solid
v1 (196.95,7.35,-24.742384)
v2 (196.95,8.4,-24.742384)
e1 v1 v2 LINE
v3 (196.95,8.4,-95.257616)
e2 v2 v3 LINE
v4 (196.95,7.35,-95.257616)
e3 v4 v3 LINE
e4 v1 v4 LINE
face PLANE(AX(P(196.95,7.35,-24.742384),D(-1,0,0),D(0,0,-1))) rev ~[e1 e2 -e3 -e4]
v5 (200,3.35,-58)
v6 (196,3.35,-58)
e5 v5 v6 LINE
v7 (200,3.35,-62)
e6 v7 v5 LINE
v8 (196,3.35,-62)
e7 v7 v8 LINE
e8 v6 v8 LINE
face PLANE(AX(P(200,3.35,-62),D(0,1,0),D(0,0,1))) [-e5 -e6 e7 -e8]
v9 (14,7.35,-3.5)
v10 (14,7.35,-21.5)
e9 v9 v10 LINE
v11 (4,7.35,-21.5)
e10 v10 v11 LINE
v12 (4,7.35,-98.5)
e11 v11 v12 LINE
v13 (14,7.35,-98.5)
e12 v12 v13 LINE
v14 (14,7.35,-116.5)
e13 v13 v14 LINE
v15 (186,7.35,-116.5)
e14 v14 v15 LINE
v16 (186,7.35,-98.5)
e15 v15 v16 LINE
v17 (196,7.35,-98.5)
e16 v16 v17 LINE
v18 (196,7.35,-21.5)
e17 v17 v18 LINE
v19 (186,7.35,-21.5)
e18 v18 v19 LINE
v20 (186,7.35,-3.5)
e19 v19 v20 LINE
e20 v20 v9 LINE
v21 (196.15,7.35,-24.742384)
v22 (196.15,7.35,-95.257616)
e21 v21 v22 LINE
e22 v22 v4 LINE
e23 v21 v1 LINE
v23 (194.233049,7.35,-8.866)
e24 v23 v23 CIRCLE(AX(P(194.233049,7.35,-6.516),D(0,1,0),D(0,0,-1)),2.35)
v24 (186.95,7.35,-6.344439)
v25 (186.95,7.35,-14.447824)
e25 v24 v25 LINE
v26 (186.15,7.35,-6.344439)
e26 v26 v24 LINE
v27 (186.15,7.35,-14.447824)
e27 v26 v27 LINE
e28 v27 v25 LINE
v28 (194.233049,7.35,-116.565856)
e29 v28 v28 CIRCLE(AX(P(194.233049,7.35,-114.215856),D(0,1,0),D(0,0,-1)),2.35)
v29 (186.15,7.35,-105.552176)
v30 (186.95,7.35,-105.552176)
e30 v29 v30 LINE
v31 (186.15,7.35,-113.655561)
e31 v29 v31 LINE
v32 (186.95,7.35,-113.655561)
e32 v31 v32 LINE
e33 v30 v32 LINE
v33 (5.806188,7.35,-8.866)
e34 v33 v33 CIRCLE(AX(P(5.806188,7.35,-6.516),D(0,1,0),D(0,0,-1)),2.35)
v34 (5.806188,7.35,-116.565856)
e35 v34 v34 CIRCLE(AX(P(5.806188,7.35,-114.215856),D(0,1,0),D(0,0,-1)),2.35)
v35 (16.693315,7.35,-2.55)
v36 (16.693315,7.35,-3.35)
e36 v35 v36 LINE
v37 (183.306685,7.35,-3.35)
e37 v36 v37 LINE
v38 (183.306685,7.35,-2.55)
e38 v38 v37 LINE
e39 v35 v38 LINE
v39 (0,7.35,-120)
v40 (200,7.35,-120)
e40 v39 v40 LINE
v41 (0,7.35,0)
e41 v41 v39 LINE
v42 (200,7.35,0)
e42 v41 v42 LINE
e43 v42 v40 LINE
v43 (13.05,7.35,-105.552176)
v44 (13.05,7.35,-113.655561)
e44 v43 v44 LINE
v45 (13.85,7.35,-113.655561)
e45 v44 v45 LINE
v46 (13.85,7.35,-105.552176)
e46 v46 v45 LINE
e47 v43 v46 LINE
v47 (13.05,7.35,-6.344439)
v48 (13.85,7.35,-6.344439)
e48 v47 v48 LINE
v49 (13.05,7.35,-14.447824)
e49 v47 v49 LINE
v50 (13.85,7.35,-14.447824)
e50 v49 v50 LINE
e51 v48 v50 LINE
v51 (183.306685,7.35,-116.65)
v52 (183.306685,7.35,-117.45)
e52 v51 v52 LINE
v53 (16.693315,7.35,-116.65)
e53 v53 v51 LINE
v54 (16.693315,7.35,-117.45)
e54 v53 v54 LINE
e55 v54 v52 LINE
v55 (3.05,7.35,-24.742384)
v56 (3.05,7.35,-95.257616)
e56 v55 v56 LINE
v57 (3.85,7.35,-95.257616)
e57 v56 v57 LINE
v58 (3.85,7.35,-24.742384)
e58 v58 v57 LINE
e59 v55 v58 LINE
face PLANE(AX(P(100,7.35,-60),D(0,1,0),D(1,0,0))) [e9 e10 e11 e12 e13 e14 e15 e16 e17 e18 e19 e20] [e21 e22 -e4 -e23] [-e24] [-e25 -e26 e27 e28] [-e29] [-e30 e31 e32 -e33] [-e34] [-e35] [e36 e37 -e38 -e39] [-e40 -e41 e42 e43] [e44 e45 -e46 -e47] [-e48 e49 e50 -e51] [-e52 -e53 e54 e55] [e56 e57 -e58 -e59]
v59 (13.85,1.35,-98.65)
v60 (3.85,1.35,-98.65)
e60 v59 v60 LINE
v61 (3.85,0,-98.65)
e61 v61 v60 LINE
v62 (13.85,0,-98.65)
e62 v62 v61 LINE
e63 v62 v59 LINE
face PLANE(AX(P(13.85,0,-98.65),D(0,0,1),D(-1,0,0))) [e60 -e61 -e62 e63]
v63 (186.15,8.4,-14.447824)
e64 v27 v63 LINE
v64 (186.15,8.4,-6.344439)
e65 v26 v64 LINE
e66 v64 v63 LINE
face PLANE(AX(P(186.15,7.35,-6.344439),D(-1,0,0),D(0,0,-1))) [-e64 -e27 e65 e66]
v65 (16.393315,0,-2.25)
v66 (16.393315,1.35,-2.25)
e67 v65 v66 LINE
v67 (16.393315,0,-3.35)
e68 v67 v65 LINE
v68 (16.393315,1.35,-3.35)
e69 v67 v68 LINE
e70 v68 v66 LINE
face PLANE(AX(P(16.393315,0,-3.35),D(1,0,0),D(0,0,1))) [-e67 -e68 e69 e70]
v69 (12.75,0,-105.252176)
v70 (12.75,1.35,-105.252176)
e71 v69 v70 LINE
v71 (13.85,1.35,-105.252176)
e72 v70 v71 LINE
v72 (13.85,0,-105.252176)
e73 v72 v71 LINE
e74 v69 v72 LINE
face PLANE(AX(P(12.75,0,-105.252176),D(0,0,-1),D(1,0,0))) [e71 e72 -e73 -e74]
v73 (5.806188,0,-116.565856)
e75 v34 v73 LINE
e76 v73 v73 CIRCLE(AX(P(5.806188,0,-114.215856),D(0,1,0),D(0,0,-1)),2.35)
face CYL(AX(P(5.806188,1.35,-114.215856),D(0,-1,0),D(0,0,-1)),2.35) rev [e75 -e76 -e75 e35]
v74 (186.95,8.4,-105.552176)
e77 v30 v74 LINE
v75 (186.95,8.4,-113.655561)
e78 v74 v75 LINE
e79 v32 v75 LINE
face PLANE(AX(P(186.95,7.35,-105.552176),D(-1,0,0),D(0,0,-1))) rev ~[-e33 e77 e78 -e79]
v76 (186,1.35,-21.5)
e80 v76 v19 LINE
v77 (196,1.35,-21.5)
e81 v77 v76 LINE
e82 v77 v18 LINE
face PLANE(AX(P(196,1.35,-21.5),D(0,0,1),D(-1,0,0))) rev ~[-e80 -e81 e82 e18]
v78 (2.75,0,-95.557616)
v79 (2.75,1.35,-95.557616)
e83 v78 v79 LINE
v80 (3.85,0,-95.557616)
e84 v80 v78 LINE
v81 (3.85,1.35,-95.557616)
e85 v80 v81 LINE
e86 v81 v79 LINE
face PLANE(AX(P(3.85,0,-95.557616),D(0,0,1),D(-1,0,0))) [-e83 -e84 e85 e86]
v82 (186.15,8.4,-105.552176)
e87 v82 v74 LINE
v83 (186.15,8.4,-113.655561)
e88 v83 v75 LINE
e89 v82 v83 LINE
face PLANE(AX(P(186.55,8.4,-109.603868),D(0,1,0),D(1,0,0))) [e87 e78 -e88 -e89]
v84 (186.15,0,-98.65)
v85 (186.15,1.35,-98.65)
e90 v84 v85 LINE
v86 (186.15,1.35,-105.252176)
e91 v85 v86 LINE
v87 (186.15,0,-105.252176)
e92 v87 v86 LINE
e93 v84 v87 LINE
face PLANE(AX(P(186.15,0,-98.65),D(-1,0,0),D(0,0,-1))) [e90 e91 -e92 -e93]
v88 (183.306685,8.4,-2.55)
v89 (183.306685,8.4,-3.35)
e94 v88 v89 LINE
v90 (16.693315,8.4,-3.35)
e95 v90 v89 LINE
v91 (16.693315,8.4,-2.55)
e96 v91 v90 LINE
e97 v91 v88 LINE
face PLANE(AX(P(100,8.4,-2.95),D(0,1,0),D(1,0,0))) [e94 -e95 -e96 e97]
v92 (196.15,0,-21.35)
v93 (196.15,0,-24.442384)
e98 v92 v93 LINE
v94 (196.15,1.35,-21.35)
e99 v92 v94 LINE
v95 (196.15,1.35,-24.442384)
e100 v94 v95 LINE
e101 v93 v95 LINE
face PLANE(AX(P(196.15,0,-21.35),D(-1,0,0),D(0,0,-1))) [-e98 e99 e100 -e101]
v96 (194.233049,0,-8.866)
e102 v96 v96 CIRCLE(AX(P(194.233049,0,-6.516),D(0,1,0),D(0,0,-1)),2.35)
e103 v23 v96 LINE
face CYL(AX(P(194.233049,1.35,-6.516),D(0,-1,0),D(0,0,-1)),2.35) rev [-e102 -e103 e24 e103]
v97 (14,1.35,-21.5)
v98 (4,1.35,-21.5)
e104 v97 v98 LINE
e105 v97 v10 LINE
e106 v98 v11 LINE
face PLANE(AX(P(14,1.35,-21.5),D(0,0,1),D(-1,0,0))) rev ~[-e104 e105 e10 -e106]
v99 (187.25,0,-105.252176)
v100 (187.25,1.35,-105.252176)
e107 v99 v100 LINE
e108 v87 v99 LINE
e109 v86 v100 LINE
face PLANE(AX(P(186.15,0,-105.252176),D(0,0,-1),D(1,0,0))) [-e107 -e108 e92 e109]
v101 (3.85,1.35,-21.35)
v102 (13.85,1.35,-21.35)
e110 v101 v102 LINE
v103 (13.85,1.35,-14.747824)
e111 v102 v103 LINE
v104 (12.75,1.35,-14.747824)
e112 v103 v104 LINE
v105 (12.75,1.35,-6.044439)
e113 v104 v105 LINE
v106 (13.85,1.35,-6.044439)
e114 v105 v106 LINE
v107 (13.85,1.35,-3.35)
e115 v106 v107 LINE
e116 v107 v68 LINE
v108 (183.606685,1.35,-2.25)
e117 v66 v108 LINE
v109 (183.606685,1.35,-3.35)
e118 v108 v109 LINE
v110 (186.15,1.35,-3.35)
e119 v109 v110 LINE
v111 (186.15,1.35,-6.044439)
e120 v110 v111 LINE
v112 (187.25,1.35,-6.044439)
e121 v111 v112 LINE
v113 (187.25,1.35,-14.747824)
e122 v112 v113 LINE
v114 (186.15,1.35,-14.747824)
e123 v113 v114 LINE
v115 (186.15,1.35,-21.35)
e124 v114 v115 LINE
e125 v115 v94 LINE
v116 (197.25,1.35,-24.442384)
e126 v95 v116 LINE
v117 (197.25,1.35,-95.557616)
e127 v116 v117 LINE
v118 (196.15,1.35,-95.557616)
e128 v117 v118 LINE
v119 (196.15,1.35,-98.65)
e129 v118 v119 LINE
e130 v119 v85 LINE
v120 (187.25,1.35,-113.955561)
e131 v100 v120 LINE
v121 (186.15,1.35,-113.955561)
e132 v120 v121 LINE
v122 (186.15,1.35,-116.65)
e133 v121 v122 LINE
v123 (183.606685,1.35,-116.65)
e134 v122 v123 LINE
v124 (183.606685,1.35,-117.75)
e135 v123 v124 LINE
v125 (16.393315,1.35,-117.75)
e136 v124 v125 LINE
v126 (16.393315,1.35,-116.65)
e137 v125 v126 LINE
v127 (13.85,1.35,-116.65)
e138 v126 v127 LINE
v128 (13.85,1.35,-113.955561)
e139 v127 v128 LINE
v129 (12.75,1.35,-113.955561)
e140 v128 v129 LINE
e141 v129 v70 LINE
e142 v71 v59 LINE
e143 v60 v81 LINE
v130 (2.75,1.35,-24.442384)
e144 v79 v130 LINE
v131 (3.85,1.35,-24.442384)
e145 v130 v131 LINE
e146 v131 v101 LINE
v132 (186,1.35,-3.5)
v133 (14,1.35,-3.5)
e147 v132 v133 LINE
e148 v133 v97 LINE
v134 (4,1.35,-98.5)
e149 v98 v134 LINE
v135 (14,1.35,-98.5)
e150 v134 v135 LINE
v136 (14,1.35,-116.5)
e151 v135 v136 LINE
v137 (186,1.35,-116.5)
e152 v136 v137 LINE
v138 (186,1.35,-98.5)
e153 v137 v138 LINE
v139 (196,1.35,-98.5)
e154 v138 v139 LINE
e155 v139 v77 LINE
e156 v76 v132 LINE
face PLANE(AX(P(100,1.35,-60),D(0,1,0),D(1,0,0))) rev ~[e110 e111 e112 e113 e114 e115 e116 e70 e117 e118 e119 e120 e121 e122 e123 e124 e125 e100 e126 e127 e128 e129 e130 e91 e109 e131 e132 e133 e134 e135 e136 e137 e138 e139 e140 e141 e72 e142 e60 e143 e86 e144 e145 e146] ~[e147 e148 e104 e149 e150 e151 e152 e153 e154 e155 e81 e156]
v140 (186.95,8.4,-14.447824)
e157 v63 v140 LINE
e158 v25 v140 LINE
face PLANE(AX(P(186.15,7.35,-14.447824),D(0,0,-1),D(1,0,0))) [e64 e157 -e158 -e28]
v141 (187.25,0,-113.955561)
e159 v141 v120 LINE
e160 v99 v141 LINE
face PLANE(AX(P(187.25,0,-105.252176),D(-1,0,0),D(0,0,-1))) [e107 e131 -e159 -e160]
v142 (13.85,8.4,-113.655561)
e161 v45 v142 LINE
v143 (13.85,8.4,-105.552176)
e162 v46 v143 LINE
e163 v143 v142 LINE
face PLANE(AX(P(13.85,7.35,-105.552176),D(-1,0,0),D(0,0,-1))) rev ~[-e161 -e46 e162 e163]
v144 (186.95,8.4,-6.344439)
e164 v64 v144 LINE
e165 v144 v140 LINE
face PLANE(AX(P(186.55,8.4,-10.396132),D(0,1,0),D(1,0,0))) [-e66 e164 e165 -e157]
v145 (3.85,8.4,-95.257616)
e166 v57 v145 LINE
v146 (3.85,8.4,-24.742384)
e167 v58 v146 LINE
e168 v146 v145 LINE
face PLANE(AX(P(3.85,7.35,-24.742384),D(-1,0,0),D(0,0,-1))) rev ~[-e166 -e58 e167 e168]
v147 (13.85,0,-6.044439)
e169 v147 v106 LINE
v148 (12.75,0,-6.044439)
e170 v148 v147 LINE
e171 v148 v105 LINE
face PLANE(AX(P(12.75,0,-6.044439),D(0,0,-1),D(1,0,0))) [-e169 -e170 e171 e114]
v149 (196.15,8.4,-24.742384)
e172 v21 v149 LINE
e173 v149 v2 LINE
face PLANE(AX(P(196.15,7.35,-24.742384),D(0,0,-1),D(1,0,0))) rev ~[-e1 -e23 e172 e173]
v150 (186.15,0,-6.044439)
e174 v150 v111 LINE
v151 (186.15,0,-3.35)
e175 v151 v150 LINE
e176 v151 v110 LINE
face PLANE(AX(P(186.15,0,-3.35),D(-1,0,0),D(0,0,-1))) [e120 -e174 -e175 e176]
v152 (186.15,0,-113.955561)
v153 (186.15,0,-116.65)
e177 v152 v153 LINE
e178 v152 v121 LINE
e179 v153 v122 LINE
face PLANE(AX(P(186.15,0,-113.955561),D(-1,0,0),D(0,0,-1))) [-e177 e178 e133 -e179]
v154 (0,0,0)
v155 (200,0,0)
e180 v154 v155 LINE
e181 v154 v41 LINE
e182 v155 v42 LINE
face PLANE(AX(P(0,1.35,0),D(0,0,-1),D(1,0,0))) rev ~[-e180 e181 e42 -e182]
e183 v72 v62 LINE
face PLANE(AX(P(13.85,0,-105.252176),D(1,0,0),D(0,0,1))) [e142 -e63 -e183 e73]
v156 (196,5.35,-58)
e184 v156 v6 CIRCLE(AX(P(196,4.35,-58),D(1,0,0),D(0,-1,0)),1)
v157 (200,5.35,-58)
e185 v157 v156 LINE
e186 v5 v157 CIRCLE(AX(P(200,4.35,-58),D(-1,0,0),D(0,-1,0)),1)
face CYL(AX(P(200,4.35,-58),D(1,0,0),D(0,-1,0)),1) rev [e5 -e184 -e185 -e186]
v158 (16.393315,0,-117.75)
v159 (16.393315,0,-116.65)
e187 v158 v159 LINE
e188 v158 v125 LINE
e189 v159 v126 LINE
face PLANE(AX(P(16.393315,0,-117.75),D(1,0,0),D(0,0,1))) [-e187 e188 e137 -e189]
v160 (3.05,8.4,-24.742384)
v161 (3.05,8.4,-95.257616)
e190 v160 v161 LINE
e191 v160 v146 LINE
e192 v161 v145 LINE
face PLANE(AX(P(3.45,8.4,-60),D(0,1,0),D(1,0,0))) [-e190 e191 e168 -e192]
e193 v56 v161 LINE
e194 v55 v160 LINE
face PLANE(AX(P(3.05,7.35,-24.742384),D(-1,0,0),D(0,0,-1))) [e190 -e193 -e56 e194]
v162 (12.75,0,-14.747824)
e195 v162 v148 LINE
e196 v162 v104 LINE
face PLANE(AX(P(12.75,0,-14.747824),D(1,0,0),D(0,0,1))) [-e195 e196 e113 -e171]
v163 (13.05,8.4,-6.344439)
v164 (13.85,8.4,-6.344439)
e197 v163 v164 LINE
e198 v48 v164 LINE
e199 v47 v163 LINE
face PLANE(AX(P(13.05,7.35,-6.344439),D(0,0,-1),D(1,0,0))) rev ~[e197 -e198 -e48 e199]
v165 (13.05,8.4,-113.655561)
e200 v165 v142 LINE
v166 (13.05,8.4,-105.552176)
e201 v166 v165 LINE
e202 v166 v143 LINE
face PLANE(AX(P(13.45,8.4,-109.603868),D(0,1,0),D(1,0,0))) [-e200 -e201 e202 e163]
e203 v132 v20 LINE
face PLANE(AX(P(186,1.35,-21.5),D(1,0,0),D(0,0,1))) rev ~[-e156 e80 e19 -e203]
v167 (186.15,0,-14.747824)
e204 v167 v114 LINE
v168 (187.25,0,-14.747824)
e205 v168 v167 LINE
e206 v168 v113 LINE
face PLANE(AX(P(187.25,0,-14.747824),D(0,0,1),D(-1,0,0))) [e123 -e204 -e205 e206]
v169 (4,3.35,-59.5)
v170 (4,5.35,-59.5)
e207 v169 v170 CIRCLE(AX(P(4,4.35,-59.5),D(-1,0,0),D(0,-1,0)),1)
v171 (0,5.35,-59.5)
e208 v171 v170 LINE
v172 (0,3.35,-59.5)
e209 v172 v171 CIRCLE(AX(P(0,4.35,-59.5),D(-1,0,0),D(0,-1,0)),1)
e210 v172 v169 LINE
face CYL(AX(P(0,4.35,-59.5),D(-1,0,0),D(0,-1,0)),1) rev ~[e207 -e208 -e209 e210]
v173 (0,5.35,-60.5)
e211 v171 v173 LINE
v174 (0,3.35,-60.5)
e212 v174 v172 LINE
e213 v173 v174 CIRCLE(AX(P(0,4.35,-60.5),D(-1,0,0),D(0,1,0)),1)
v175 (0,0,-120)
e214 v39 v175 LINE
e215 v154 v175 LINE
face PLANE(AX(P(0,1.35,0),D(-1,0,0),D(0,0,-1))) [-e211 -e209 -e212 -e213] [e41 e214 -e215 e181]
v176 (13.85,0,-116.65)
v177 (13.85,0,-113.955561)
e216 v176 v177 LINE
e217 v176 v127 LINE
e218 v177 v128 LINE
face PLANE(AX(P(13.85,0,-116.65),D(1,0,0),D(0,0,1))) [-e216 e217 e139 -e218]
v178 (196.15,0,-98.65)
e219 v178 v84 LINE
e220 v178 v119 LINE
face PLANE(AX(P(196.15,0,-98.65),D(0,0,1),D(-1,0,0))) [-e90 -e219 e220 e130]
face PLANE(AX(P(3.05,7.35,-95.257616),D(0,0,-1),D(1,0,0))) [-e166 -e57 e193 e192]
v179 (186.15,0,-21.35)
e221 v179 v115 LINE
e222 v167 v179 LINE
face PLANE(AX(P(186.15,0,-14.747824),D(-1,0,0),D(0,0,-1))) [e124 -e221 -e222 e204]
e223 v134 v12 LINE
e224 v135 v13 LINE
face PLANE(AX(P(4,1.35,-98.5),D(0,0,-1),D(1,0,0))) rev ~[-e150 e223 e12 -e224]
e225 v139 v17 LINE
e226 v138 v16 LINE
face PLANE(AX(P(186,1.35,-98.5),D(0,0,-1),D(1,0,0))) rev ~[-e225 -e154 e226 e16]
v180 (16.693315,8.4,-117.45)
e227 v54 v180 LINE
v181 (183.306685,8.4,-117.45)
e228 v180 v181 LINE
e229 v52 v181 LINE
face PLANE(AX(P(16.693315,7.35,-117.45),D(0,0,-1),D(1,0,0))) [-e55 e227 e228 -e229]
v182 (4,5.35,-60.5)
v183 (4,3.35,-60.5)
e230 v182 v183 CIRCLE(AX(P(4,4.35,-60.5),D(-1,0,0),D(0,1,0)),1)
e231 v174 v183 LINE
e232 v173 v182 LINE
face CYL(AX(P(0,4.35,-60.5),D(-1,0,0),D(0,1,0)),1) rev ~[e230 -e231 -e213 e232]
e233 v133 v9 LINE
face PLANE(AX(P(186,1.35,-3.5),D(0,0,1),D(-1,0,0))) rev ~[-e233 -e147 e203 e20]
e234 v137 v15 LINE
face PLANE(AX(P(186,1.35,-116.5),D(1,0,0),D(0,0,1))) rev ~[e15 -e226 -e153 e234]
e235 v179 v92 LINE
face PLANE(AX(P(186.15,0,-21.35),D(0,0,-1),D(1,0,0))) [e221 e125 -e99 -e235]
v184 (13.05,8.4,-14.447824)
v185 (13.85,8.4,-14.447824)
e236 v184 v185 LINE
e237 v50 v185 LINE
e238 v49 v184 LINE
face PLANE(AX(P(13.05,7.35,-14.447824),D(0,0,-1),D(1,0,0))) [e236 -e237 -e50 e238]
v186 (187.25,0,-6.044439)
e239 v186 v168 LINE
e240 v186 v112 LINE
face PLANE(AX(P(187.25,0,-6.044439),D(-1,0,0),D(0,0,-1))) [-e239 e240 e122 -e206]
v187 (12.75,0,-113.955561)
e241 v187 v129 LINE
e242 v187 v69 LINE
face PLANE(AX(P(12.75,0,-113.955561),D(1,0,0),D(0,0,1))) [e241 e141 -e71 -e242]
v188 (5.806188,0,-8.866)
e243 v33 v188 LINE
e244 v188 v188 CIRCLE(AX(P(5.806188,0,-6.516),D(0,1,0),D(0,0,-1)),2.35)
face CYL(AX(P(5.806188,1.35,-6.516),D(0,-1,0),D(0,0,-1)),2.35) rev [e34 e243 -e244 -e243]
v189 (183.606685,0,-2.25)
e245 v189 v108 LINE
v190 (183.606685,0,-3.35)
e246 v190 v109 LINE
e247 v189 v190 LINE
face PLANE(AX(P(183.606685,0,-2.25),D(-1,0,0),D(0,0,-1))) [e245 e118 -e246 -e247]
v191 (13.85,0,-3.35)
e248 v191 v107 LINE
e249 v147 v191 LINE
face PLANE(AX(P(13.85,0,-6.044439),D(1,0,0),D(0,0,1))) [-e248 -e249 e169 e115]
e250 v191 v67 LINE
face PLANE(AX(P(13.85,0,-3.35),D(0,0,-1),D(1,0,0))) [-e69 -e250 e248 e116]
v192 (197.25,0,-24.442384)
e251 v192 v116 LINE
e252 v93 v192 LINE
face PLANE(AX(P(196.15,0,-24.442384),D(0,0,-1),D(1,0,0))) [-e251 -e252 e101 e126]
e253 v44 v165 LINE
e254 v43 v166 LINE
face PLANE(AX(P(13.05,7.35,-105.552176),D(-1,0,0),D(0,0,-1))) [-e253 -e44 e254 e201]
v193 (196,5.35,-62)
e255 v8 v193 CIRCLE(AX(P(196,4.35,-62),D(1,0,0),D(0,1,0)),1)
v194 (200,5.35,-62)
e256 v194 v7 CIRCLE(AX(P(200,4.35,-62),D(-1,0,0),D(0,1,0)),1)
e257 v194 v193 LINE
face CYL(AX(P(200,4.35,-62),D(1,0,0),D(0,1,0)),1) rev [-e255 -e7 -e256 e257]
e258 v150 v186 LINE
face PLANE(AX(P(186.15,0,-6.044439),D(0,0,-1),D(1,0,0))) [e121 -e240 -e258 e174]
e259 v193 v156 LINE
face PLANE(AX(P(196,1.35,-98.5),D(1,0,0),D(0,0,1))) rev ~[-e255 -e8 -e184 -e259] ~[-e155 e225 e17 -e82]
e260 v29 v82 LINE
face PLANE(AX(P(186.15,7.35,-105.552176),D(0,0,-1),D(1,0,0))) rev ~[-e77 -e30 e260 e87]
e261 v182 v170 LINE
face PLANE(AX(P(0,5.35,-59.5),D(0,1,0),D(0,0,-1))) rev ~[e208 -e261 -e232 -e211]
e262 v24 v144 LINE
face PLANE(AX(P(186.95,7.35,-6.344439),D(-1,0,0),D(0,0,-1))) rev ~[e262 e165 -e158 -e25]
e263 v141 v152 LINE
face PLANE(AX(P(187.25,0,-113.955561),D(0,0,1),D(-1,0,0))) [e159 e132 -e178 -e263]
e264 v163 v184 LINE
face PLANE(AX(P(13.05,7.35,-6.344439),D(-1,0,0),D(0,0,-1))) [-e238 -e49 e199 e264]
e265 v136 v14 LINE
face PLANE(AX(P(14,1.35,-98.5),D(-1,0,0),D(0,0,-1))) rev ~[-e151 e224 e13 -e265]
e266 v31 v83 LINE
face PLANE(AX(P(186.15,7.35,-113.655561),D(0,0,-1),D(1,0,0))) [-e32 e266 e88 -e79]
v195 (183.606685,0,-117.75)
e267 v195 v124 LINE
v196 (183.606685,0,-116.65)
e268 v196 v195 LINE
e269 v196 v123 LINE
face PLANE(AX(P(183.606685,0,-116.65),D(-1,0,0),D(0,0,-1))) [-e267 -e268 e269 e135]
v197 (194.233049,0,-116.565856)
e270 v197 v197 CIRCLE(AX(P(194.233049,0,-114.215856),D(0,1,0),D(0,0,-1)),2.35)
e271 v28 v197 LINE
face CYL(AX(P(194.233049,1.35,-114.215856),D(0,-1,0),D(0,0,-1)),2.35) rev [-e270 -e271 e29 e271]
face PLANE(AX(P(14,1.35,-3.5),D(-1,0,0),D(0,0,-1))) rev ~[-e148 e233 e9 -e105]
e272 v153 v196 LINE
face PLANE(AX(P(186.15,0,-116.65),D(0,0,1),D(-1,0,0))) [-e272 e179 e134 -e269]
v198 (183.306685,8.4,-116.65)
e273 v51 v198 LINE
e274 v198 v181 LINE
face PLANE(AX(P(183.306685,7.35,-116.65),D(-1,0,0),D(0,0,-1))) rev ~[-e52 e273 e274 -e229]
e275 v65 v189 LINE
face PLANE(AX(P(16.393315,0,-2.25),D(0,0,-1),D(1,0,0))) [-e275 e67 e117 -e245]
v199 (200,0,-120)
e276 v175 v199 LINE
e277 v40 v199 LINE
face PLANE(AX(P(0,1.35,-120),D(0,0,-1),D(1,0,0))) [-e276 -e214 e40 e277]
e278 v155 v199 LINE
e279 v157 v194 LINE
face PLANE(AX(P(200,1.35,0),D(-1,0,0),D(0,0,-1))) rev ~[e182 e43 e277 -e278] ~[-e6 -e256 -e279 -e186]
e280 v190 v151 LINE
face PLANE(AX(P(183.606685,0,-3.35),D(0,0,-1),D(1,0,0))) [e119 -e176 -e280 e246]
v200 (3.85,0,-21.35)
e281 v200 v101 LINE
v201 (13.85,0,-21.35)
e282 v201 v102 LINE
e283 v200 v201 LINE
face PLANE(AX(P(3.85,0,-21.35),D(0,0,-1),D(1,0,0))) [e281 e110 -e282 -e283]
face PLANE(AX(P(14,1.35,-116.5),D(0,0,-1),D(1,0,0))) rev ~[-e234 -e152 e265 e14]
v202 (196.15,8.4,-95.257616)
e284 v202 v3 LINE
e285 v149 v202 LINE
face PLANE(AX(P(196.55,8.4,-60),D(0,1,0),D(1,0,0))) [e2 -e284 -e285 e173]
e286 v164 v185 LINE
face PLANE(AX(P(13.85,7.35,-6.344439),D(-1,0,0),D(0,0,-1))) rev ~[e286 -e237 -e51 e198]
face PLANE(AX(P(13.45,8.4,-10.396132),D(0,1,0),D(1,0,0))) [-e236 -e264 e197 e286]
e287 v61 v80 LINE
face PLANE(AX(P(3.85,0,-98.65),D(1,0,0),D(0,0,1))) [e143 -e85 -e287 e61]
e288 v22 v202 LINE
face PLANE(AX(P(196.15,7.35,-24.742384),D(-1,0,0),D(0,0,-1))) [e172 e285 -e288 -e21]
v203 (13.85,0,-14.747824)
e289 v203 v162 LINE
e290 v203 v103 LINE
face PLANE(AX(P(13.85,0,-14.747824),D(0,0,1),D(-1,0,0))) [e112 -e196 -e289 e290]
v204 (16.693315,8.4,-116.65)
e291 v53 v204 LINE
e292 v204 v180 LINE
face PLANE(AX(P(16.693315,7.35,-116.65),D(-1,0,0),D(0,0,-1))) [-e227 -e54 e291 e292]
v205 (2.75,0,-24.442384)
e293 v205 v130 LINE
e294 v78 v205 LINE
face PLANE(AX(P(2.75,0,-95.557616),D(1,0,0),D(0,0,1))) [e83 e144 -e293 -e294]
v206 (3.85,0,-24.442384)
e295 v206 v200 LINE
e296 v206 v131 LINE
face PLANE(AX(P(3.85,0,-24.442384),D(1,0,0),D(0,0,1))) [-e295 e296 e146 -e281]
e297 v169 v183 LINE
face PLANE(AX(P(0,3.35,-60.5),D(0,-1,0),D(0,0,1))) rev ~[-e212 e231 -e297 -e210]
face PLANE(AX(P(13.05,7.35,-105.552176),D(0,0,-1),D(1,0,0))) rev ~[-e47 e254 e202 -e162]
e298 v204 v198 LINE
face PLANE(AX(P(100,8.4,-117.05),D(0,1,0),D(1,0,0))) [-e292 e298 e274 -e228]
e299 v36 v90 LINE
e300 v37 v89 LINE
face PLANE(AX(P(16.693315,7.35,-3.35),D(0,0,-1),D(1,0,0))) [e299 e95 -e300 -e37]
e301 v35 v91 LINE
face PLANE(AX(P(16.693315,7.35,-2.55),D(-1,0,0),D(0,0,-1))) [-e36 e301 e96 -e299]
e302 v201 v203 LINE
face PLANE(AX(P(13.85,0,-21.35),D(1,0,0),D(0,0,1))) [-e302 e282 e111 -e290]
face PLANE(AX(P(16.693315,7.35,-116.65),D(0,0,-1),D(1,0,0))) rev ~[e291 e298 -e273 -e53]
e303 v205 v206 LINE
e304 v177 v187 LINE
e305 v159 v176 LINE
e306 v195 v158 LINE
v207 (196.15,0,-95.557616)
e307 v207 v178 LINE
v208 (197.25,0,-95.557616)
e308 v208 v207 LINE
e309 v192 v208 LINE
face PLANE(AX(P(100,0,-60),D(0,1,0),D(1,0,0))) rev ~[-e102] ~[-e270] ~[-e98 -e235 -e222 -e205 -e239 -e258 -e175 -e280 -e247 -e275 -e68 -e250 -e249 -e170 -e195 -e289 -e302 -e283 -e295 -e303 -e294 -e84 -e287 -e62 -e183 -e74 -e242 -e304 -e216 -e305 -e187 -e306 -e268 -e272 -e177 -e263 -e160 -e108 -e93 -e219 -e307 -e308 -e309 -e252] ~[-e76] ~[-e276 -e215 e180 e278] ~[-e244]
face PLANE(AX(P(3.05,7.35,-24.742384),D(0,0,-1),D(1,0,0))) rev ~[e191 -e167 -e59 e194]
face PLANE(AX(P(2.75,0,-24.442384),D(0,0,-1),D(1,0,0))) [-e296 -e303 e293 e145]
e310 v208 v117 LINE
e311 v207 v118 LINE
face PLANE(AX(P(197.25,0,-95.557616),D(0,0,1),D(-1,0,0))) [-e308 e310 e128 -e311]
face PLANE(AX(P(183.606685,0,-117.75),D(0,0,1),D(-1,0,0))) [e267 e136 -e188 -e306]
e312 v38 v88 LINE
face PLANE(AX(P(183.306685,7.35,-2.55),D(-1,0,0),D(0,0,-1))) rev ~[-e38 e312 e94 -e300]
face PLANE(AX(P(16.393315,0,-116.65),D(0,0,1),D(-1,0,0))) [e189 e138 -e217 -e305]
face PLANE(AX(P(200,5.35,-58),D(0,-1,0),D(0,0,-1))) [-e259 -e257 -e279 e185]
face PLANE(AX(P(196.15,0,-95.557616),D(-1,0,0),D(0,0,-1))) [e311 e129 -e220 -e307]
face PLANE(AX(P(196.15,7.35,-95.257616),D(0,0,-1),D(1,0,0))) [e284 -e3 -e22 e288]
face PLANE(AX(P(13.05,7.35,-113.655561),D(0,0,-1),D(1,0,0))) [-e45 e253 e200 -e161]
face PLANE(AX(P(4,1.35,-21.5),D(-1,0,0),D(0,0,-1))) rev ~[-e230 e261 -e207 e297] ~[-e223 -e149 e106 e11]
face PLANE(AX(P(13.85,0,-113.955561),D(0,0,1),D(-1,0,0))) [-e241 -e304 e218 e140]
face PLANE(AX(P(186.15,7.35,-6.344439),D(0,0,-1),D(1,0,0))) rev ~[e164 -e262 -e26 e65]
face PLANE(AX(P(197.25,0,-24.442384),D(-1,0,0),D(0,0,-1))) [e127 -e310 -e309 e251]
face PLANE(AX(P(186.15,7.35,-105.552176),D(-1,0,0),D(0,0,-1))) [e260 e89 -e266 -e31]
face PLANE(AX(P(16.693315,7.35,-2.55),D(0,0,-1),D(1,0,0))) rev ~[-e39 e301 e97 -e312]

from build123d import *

# Parameters (mm, degrees)
SKETCH8_W           = 200
SKETCH8_H           = 120
SKETCH8_R           = 2.35
BOSS_EXTRUDE4_DEPTH = 1.35
SKETCH9_W           = 200
SKETCH9_H           = 120
SKETCH9_R           = 2.35
BOSS_EXTRUDE5_DEPTH = 6
SKETCH10_W          = 0.8
SKETCH10_H          = 8.103385626
SKETCH10_W_2        = 166.613370644
SKETCH10_H_2        = 0.8
SKETCH10_H_3        = 70.515232796
BOSS_EXTRUDE6_DEPTH = 1.05
CUT_EXTRUDE1_REACH  = 235.389
CUT_EXTRUDE2_REACH  = 235.389


with BuildPart() as part:
    # Sketch8 → Boss-Extrude4 (new body)
    with BuildSketch(Plane(origin=(0, 0, 0), x_dir=(1, 0, 0), z_dir=(0, 1, 0))):
        with Locations((100, 60)):
            Rectangle(SKETCH8_W, SKETCH8_H)
        with Locations(Location((5.806188151, 6.51599975, 0), (0, 0, 90))):
            Circle(SKETCH8_R, mode=Mode.SUBTRACT)
        with Locations(Location((194.233048897, 6.51599975, 0), (0, 0, 90))):
            Circle(SKETCH8_R, mode=Mode.SUBTRACT)
        with Locations(Location((194.233048897, 114.215856496, 0), (0, 0, 90))):
            Circle(SKETCH8_R, mode=Mode.SUBTRACT)
        with Locations(Location((5.806188151, 114.215856496, 0), (0, 0, 90))):
            Circle(SKETCH8_R, mode=Mode.SUBTRACT)
        Polygon((2.75, 95.557616398), (2.75, 24.442383602), (3.85, 24.442383602), (3.85, 21.35), (13.85, 21.35), (13.85, 14.747824367), (12.75, 14.747824367), (12.75, 6.044438741), (13.85, 6.044438741), (13.85, 3.35), (16.393314678, 3.35), (16.393314678, 2.25), (183.606685322, 2.25), (183.606685322, 3.35), (186.15, 3.35), (186.15, 6.044438741), (187.25, 6.044438741), (187.25, 14.747824367), (186.15, 14.747824367), (186.15, 21.35), (196.15, 21.35), (196.15, 24.442383602), (197.25, 24.442383602), (197.25, 95.557616398), (196.15, 95.557616398), (196.15, 98.65), (186.15, 98.65), (186.15, 105.252175633), (187.25, 105.252175633), (187.25, 113.955561259), (186.15, 113.955561259), (186.15, 116.65), (183.606685322, 116.65), (183.606685322, 117.75), (16.393314678, 117.75), (16.393314678, 116.65), (13.85, 116.65), (13.85, 113.955561259), (12.75, 113.955561259), (12.75, 105.252175633), (13.85, 105.252175633), (13.85, 98.65), (3.85, 98.65), (3.85, 95.557616398), align=None, mode=Mode.SUBTRACT)
    extrude(amount=BOSS_EXTRUDE4_DEPTH)

    # Sketch9 → Boss-Extrude5 (add)
    with BuildSketch(Plane(origin=(0, 1.35, 0), x_dir=(1, 0, 0), z_dir=(0, 1, 0))):
        with Locations((100, 60)):
            Rectangle(SKETCH9_W, SKETCH9_H)
        with Locations(Location((194.233048897, 114.215856496, 0), (0, 0, 90))):
            Circle(SKETCH9_R, mode=Mode.SUBTRACT)
        with Locations(Location((194.233048897, 6.51599975, 0), (0, 0, 90))):
            Circle(SKETCH9_R, mode=Mode.SUBTRACT)
        with Locations(Location((5.806188151, 6.51599975, 0), (0, 0, 90))):
            Circle(SKETCH9_R, mode=Mode.SUBTRACT)
        with Locations(Location((5.806188151, 114.215856496, 0), (0, 0, 90))):
            Circle(SKETCH9_R, mode=Mode.SUBTRACT)
        Polygon((183.456685322, 116.5), (186, 116.5), (186, 113.805561259), (186, 105.402175633), (186, 98.5), (196, 98.5), (196, 95.407616398), (196, 24.592383602), (196, 21.5), (186, 21.5), (186, 14.597824367), (186, 6.194438741), (186, 3.5), (183.456685322, 3.5), (16.543314678, 3.5), (14, 3.5), (14, 6.194438741), (14, 14.597824367), (14, 21.5), (4, 21.5), (4, 24.592383602), (4, 95.407616398), (4, 98.5), (14, 98.5), (14, 105.402175633), (14, 113.805561259), (14, 116.5), (16.543314678, 116.5), align=None, mode=Mode.SUBTRACT)
    extrude(amount=BOSS_EXTRUDE5_DEPTH)

    # Sketch10 → Boss-Extrude6 (add)
    with BuildSketch(Plane(origin=(0, 7.35, 0), x_dir=(1, 0, 0), z_dir=(0, 1, 0))):
        with Locations((13.45, 109.603868446)):
            Rectangle(SKETCH10_W, SKETCH10_H)
        with Locations((186.55, 109.603868446)):
            Rectangle(SKETCH10_W, SKETCH10_H)
        with Locations((100, 117.05)):
            Rectangle(SKETCH10_W_2, SKETCH10_H_2)
        with Locations((196.55, 60)):
            Rectangle(SKETCH10_W, SKETCH10_H_3)
        with Locations((186.55, 10.396131554)):
            Rectangle(SKETCH10_W, SKETCH10_H)
        with Locations((100, 2.95)):
            Rectangle(SKETCH10_W_2, SKETCH10_H_2)
        with Locations((13.45, 10.396131554)):
            Rectangle(SKETCH10_W, SKETCH10_H)
        with Locations((3.45, 60)):
            Rectangle(SKETCH10_W, SKETCH10_H_3)
    extrude(amount=BOSS_EXTRUDE6_DEPTH)

    # Sketch11 → Cut-Extrude1 (cut, up to next)
    with BuildSketch(Plane.ZY, mode=Mode.PRIVATE) as cut_extrude1_sk1:
        with BuildLine():
            Line((-60.5, 3.35), (-59.5, 3.35))
            ThreePointArc((-59.5, 3.35), (-58.5, 4.35), (-59.5, 5.35))
            Line((-59.5, 5.35), (-60.5, 5.35))
            ThreePointArc((-60.5, 5.35), (-61.5, 4.35), (-60.5, 3.35))
        make_face()
    cut_extrude1_tool1 = extrude(cut_extrude1_sk1.sketch, amount=-CUT_EXTRUDE1_REACH, mode=Mode.PRIVATE) & part.part
    add(cut_extrude1_tool1.solids().sort_by_distance((0, 4.35, -60))[0], mode=Mode.SUBTRACT)

    # Sketch12 → Cut-Extrude2 (cut, up to next)
    with BuildSketch(Plane(origin=(200, 0, 0), x_dir=(0, 0, -1), z_dir=(1, 0, 0)), mode=Mode.PRIVATE) as cut_extrude2_sk1:
        with BuildLine():
            Line((58, 5.35), (62, 5.35))
            ThreePointArc((62, 5.35), (63, 4.35), (62, 3.35))
            Line((62, 3.35), (58, 3.35))
            ThreePointArc((58, 3.35), (57, 4.35), (58, 5.35))
        make_face()
    cut_extrude2_tool1 = extrude(cut_extrude2_sk1.sketch, amount=-CUT_EXTRUDE2_REACH, mode=Mode.PRIVATE) & part.part
    add(cut_extrude2_tool1.solids().sort_by_distance((200, 4.35, -60))[0], mode=Mode.SUBTRACT)


solid = part.part
